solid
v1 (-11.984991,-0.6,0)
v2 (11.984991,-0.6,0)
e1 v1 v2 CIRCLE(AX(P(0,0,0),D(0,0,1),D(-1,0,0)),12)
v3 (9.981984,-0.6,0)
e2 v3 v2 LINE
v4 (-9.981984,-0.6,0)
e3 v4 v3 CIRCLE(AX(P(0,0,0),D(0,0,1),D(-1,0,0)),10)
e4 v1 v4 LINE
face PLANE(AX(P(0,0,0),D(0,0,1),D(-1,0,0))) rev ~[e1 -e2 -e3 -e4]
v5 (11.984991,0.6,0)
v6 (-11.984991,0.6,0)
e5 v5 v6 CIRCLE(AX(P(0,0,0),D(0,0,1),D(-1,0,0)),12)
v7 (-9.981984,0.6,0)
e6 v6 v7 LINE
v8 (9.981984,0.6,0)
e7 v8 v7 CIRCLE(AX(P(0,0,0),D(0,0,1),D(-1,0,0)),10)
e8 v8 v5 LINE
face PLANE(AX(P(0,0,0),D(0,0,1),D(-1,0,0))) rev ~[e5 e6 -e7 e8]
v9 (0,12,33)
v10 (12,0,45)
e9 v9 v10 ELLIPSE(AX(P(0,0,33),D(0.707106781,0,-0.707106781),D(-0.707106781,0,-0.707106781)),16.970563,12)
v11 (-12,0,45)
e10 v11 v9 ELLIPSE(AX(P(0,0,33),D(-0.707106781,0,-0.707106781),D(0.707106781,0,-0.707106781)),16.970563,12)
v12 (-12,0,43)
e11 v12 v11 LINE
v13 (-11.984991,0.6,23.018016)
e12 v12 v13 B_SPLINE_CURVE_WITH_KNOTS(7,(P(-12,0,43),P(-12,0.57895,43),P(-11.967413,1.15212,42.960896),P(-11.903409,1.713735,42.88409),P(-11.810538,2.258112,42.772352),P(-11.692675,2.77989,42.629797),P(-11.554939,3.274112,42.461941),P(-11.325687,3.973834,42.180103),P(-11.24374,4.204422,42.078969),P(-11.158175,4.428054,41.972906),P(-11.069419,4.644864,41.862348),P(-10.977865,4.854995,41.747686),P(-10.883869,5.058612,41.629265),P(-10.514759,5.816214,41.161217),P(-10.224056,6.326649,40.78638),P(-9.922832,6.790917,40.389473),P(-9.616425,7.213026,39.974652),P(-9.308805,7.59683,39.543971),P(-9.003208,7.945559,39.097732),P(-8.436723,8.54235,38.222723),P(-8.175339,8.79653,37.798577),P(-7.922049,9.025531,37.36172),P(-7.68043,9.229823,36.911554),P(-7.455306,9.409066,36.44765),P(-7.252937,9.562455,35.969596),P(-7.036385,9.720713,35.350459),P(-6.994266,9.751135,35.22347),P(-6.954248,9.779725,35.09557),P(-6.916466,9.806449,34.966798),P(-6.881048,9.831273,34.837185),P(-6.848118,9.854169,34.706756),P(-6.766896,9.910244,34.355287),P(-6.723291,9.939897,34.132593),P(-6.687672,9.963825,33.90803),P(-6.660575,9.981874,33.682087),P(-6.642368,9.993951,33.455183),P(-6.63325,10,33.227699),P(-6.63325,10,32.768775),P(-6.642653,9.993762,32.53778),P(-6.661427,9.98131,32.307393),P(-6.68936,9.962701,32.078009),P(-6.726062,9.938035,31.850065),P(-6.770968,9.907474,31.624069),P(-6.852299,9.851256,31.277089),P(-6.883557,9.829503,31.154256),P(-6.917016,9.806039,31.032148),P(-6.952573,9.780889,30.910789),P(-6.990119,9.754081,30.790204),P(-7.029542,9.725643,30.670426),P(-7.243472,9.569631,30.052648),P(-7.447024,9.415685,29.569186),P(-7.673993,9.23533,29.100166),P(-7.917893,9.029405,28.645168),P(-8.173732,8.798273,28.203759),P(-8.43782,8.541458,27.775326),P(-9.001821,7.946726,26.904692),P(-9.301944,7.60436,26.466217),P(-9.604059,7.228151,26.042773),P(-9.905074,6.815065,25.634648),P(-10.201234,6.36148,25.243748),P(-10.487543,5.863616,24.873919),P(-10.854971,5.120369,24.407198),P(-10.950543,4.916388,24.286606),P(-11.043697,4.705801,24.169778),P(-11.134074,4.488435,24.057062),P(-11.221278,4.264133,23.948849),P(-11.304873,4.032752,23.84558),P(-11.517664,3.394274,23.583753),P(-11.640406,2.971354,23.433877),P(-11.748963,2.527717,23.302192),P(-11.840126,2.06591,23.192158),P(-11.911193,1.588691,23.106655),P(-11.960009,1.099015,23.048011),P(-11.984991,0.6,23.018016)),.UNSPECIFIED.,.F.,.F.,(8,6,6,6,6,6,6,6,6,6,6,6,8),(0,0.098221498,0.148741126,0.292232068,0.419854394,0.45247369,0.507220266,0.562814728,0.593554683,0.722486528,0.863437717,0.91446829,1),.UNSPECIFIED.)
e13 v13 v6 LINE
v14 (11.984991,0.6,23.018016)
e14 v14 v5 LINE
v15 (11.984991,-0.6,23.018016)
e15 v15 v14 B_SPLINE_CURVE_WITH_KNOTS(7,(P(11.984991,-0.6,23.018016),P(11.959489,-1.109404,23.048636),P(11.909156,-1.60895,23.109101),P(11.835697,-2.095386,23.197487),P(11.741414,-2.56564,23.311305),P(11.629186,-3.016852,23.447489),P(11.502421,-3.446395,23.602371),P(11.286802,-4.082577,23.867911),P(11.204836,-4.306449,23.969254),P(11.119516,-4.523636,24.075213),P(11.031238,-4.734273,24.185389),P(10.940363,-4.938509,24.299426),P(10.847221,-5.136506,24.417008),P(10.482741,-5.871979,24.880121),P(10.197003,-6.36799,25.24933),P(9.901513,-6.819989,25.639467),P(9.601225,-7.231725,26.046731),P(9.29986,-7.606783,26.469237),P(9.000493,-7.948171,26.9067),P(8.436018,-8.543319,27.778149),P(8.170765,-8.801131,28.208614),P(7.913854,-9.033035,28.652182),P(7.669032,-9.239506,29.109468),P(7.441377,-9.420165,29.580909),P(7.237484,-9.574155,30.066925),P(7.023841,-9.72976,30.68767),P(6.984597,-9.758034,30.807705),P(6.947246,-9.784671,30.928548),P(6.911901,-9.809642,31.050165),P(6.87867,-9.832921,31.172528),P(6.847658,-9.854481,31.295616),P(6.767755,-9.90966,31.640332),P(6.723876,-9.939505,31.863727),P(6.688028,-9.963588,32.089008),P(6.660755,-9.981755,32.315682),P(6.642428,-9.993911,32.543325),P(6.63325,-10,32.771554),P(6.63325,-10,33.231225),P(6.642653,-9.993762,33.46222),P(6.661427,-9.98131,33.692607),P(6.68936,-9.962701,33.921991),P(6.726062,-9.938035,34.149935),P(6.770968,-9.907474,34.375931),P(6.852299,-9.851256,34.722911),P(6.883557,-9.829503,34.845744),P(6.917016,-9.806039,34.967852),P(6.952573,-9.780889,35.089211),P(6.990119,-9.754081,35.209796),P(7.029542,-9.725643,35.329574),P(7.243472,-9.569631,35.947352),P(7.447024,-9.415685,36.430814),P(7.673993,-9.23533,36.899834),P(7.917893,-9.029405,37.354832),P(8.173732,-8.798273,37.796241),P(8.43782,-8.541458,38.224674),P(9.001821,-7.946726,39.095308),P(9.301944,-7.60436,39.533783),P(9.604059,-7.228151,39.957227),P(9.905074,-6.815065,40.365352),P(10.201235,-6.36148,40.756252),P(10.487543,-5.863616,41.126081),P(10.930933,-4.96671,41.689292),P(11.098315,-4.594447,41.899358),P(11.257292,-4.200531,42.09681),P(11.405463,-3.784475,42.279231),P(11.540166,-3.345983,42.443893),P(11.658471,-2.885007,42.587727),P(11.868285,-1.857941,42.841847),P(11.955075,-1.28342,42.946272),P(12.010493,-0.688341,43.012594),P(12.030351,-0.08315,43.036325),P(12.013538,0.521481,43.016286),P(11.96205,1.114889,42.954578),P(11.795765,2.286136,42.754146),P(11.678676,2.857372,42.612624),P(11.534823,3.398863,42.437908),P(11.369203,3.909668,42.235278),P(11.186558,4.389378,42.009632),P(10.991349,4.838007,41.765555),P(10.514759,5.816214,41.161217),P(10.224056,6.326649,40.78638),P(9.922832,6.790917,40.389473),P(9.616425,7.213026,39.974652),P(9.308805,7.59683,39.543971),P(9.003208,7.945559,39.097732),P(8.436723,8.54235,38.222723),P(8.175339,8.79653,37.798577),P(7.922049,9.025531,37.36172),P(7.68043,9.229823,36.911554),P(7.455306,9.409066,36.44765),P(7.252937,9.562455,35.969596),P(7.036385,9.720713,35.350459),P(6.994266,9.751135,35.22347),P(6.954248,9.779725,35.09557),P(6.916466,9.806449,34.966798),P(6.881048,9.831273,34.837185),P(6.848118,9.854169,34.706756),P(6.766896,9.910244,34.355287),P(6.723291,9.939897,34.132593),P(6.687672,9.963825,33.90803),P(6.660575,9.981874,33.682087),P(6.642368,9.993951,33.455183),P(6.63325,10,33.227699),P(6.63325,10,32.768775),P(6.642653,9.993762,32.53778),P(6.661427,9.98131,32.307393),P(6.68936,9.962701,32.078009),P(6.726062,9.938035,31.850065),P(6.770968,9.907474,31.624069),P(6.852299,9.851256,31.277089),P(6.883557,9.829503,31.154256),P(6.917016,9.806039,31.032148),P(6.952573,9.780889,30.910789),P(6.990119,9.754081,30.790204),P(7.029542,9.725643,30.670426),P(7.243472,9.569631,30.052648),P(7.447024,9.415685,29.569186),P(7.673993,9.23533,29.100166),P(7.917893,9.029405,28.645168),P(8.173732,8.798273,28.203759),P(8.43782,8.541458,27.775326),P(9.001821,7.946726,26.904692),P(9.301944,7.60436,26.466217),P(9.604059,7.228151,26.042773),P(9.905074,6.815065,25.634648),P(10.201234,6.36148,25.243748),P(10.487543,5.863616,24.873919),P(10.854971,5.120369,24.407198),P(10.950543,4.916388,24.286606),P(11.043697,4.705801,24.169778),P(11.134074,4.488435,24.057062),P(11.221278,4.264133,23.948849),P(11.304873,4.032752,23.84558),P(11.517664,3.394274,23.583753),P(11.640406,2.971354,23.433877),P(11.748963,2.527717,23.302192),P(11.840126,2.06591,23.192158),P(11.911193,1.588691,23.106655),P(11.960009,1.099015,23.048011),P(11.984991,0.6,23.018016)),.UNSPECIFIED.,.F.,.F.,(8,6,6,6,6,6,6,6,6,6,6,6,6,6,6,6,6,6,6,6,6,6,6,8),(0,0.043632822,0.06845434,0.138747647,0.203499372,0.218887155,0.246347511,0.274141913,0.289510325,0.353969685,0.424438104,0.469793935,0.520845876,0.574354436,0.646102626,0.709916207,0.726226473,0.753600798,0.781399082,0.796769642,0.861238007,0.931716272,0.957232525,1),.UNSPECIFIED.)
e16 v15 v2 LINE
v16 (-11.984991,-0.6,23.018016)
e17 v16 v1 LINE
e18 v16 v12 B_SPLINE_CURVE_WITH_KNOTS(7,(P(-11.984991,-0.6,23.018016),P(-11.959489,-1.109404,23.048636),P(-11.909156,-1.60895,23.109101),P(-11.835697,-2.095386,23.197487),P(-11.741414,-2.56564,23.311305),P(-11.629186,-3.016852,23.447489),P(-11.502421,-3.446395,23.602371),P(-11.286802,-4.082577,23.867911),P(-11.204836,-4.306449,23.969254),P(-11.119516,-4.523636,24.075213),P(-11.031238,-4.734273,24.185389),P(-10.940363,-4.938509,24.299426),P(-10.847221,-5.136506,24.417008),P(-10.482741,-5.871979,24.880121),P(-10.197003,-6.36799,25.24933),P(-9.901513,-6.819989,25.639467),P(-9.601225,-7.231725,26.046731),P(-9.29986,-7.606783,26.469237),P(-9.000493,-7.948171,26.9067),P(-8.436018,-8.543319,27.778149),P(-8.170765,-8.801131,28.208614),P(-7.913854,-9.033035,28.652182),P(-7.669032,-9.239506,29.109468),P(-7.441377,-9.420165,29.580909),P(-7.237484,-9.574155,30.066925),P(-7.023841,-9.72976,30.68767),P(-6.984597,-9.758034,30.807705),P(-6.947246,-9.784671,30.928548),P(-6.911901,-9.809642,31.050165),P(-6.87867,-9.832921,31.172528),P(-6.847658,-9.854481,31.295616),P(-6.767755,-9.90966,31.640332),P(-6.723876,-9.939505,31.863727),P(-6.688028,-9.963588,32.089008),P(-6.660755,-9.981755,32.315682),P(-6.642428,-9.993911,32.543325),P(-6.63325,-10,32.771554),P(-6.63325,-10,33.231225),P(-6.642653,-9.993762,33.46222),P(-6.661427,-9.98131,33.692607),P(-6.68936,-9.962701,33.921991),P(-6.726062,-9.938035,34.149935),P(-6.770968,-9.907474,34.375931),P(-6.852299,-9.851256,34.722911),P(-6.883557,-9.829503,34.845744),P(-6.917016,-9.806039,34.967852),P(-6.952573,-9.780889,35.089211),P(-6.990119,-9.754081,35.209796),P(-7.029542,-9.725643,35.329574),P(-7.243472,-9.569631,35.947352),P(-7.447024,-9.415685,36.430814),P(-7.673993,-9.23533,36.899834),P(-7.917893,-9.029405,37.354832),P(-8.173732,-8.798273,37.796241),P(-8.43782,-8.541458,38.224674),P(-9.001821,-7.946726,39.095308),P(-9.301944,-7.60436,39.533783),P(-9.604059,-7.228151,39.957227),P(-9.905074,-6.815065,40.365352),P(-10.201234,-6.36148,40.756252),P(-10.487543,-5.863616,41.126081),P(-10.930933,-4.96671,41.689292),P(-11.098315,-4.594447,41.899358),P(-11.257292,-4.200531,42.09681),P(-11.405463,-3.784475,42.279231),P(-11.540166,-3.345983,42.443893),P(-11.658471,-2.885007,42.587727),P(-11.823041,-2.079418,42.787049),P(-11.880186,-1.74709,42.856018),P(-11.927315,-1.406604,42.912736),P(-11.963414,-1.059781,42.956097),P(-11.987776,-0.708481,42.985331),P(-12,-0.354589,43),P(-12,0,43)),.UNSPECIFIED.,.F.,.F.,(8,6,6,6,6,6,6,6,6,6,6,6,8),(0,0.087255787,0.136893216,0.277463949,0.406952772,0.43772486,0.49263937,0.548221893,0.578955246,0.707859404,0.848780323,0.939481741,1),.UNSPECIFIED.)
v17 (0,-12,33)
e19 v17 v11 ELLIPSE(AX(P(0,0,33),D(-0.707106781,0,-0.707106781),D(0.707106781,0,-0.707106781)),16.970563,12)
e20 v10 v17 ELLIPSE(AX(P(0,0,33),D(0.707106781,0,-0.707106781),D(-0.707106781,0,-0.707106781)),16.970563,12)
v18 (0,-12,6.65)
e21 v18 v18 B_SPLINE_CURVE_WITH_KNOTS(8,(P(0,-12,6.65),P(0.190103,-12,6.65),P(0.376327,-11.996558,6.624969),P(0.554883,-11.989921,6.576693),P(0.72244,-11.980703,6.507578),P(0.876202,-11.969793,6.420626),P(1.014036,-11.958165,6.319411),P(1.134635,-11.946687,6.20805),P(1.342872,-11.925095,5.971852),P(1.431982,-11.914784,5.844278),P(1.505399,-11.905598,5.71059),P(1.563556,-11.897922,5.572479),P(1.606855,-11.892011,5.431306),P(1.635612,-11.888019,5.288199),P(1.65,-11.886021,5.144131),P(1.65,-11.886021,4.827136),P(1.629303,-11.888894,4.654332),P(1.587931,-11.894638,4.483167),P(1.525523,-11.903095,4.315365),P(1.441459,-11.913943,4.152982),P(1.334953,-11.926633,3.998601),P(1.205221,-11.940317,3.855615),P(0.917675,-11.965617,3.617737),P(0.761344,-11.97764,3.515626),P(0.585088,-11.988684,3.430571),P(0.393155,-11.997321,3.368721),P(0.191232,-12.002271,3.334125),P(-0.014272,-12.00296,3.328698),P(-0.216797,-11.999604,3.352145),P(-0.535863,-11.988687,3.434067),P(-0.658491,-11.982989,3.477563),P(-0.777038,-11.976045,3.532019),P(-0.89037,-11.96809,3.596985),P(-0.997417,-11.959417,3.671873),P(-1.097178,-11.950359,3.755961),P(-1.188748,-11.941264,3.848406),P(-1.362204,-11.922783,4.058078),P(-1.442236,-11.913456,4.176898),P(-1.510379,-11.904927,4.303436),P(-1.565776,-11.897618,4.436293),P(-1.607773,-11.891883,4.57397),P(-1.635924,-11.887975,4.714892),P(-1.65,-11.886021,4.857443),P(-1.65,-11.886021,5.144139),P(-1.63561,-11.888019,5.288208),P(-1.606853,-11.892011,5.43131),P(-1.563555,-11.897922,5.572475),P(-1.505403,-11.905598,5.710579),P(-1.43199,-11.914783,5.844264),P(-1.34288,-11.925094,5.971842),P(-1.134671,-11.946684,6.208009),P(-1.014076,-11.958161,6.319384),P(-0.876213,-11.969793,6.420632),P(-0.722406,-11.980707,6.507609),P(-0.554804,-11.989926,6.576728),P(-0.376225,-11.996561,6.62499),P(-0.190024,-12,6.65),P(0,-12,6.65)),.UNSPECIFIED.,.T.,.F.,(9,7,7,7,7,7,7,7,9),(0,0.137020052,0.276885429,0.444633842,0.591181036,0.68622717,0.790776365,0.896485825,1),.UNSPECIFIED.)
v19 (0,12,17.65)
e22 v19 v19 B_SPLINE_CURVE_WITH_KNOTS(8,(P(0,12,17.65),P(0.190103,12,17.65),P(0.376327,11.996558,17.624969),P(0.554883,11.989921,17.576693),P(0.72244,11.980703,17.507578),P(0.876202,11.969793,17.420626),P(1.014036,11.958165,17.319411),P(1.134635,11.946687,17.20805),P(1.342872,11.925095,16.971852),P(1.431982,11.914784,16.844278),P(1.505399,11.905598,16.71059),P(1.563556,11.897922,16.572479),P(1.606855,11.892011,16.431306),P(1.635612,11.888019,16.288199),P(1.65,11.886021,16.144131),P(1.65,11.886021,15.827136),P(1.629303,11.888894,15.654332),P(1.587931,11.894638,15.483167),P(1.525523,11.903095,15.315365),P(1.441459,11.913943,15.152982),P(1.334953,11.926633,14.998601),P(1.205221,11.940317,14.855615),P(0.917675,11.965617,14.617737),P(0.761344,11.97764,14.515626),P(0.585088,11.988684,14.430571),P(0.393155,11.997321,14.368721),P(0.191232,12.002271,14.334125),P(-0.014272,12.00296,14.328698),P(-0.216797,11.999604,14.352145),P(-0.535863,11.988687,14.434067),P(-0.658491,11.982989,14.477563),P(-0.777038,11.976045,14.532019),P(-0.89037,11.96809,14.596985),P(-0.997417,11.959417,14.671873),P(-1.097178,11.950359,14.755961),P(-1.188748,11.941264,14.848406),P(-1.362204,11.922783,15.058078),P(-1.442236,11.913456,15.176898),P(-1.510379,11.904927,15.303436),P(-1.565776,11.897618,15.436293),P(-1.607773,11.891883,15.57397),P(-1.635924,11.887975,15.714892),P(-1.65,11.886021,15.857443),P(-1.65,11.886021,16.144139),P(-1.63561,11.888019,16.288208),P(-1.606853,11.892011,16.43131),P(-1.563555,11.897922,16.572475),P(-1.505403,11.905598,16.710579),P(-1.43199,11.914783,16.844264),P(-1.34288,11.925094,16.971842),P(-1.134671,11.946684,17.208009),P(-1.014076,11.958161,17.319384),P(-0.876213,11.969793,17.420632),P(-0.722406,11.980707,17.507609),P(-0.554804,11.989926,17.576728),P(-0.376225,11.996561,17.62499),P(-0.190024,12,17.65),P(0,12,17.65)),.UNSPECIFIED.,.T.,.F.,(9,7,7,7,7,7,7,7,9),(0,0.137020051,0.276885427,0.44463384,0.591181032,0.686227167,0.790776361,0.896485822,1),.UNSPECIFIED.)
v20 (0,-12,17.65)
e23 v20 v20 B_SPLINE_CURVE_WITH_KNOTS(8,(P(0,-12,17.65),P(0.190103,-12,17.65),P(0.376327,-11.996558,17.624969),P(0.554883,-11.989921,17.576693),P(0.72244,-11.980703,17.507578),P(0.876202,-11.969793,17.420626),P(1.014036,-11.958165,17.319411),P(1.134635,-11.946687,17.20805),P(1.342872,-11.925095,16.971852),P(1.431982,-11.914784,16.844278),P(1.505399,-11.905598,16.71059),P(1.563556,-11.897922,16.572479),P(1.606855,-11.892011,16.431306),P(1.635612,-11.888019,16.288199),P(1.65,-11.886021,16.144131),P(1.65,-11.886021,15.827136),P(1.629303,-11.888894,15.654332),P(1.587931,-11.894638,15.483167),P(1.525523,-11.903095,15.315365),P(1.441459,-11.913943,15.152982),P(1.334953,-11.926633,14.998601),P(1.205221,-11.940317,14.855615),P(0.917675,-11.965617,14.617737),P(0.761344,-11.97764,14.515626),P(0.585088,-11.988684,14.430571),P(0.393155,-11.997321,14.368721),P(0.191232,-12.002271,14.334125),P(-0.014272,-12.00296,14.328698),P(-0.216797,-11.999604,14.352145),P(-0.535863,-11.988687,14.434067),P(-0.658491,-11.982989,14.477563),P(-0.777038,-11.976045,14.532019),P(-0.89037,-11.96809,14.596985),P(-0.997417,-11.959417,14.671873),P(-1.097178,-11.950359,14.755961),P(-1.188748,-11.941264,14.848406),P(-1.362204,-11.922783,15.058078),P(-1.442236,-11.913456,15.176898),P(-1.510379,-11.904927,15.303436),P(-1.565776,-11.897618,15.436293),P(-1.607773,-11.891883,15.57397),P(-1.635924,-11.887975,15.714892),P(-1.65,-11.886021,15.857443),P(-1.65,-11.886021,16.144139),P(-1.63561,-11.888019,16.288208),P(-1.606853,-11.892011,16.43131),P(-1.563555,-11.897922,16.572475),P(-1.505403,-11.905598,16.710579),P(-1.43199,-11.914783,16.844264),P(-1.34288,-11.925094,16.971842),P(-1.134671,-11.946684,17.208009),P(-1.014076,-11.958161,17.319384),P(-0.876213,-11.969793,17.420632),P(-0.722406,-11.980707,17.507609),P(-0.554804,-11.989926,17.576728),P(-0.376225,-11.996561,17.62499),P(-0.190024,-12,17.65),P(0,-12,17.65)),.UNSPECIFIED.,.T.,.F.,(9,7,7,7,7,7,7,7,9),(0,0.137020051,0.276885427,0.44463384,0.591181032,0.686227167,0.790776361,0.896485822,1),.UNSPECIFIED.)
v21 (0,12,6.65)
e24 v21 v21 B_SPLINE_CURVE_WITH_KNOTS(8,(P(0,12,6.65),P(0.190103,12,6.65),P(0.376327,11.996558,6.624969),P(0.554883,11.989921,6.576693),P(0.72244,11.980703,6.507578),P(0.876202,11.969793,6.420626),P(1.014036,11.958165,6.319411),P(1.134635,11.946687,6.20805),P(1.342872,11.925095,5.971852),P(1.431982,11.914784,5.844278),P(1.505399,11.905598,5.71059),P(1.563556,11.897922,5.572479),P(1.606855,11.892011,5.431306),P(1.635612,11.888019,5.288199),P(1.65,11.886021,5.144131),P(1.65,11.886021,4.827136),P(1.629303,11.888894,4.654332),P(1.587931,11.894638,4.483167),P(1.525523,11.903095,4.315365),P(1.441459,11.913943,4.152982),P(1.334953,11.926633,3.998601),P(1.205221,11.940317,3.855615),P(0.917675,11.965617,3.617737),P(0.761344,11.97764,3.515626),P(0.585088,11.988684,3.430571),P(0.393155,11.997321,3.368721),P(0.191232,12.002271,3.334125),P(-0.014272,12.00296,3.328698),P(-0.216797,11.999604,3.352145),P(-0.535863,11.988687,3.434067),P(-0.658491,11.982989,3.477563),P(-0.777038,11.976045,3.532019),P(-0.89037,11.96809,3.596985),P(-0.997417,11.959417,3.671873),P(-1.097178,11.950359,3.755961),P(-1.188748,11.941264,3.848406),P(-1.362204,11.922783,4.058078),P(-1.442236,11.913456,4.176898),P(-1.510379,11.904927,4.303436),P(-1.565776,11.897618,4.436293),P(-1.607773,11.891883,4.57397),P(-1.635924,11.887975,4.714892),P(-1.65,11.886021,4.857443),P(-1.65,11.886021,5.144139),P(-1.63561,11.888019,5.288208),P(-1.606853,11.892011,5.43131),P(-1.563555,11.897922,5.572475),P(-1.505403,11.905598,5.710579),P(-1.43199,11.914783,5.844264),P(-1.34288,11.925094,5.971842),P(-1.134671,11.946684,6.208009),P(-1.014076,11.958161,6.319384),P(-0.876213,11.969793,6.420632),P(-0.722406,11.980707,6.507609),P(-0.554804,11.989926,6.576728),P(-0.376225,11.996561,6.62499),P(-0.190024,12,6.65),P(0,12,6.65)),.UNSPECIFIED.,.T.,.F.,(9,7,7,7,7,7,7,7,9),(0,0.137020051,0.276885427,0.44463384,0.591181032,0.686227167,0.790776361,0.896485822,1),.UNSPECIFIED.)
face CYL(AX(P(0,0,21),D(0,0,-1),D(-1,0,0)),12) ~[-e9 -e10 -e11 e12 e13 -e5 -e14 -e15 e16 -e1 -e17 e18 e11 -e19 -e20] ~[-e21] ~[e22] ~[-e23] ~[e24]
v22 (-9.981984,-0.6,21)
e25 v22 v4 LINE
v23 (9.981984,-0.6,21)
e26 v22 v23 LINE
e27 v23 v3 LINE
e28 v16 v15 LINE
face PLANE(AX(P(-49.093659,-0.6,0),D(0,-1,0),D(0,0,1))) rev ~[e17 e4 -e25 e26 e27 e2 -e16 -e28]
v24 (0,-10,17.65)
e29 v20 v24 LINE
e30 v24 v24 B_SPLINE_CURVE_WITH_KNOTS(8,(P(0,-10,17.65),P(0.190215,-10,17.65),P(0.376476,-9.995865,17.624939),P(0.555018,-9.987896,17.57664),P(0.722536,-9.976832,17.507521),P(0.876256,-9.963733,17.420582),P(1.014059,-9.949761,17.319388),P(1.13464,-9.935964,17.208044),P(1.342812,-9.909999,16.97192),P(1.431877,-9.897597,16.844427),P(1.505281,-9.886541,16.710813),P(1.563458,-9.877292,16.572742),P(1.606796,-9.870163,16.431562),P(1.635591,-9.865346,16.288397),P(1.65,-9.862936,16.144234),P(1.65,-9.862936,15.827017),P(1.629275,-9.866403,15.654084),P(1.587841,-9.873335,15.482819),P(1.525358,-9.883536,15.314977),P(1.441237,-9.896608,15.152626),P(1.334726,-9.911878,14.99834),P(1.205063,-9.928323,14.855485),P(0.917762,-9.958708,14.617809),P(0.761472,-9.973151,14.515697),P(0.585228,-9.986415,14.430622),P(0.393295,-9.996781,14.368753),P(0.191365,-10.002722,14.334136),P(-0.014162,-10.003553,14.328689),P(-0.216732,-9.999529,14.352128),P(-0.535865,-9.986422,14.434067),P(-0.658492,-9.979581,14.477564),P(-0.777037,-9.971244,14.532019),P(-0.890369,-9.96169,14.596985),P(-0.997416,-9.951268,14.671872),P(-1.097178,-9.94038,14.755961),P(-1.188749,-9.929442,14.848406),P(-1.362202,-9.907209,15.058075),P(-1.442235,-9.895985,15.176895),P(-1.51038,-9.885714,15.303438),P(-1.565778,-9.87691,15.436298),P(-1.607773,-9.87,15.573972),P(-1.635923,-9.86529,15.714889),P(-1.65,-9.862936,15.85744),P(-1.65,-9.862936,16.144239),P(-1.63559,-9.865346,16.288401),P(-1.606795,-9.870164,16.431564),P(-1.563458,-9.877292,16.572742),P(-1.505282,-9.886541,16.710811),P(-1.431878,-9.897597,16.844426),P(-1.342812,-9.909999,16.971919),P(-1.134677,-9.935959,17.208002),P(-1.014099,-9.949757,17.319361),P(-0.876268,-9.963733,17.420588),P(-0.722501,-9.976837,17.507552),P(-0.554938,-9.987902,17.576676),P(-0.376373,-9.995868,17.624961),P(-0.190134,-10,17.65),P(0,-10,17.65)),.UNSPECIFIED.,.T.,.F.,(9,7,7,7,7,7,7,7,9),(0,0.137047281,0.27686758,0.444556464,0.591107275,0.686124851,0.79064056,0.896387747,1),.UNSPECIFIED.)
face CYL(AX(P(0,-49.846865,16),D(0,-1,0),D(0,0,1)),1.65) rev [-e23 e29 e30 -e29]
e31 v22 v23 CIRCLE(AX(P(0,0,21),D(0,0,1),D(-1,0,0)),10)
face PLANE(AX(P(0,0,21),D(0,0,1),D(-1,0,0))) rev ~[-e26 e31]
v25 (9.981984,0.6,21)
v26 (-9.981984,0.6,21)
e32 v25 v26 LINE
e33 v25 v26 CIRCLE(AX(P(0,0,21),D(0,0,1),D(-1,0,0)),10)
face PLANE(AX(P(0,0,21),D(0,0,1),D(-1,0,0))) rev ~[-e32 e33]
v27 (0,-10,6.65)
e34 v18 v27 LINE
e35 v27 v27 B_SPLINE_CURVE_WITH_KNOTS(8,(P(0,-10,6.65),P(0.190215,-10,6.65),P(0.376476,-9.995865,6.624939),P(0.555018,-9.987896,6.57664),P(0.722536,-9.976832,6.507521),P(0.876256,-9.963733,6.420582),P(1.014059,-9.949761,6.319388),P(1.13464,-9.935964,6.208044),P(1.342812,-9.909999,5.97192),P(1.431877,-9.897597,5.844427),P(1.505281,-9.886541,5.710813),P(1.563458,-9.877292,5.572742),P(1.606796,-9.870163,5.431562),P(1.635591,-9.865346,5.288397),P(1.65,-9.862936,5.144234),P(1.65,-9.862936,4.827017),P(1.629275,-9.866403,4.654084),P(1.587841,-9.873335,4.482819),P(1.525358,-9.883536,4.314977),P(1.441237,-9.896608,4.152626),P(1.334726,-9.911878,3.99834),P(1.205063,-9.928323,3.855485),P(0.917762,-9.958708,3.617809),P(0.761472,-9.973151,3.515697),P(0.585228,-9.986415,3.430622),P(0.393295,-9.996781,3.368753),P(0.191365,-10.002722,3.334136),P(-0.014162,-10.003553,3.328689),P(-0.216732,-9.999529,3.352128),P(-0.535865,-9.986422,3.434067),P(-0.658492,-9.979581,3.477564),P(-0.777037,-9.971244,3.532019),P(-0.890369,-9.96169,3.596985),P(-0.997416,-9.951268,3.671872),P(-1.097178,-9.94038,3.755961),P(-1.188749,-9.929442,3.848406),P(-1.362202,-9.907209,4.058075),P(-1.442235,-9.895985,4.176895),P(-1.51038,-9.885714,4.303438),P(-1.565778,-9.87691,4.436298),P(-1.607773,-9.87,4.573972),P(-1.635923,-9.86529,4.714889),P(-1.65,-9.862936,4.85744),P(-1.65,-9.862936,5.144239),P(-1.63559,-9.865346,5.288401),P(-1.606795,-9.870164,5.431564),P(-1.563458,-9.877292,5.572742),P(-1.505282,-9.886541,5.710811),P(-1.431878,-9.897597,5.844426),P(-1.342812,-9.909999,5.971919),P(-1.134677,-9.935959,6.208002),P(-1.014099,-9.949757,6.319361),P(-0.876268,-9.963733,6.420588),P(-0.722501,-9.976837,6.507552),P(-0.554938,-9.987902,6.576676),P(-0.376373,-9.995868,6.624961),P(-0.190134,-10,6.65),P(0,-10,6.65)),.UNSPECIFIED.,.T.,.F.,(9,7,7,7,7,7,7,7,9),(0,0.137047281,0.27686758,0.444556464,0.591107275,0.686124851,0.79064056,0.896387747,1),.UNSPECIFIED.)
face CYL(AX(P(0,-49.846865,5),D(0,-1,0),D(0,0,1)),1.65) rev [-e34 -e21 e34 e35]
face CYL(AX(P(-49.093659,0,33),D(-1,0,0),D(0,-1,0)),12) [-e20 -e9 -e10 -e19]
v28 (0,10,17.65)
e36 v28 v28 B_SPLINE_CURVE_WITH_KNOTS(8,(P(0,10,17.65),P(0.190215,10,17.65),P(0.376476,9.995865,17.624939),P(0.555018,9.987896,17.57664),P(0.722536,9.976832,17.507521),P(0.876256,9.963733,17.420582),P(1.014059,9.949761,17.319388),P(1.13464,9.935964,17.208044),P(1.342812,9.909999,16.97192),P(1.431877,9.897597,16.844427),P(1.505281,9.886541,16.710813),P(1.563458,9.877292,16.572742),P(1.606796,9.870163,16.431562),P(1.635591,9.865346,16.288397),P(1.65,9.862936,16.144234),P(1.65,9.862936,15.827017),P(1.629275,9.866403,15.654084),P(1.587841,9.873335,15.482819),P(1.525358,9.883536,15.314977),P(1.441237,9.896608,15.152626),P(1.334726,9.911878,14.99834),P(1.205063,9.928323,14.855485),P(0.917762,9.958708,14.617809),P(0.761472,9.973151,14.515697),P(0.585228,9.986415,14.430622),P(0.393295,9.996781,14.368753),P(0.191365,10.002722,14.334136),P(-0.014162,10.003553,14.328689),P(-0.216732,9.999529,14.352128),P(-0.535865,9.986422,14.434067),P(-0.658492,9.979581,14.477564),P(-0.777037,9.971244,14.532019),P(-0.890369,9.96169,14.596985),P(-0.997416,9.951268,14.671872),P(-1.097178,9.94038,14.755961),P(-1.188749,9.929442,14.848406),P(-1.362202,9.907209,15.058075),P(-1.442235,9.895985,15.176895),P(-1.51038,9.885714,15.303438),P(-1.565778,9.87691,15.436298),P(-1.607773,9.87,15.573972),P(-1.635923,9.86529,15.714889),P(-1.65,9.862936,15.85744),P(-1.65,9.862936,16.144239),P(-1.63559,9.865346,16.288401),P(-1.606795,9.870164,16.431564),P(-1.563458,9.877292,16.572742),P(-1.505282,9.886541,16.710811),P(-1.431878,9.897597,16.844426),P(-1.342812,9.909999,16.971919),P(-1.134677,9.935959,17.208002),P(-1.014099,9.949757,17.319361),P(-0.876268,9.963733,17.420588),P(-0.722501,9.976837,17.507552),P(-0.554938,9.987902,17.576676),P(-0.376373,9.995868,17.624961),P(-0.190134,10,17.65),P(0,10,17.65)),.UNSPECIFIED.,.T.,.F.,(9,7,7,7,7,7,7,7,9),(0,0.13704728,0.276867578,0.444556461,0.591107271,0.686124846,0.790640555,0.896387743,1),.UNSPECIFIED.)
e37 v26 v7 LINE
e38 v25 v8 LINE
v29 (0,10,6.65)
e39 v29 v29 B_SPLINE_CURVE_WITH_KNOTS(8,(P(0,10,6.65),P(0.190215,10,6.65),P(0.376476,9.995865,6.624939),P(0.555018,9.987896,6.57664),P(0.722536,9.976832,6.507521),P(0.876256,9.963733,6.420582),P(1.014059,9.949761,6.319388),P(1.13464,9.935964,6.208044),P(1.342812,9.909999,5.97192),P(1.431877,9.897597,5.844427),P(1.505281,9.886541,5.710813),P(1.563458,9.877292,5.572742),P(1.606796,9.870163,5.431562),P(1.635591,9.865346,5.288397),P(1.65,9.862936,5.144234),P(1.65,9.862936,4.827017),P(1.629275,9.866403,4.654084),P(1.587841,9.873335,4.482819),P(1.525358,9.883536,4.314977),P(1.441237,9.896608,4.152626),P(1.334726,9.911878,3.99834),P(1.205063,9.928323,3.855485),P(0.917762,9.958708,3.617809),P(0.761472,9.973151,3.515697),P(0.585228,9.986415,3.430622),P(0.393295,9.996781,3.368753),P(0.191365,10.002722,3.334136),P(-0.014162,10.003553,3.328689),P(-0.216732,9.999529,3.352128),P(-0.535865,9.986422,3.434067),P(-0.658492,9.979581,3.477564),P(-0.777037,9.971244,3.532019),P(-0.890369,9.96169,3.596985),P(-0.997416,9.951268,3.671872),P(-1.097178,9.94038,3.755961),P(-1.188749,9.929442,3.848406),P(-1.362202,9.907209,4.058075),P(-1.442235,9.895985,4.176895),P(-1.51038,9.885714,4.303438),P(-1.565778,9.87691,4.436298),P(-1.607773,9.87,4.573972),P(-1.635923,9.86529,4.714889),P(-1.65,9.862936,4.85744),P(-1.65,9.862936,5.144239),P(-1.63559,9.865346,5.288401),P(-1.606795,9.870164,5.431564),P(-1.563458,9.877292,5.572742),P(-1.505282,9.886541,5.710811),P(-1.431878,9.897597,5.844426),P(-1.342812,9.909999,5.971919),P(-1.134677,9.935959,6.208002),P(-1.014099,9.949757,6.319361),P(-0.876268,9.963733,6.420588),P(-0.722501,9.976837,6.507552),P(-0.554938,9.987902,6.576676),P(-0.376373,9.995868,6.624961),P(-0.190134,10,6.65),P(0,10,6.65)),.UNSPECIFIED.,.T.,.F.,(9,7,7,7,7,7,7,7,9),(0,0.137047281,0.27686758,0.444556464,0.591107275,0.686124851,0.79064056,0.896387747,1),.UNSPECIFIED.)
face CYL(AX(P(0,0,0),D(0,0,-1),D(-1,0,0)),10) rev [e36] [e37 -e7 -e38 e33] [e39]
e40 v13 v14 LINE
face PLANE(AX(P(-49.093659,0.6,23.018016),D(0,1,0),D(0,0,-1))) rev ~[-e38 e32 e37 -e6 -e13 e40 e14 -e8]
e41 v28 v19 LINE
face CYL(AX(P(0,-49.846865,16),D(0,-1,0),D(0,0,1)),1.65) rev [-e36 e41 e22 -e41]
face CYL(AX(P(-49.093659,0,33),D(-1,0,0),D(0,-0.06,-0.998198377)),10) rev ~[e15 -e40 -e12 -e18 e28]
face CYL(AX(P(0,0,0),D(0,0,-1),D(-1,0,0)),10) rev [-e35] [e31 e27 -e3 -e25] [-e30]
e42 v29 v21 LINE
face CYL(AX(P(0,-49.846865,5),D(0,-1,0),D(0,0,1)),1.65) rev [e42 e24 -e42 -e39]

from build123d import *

# Parameters (mm, degrees)
ESQUISSE1_R                  = 12
ESQUISSE1_R_2                = 10
BOSS_EXTRU_1_DEPTH           = 21
ESQUISSE2_R                  = 12
BOSS_EXTRU_2_DEPTH           = 24
ENL_V_MAT_EXTRU_1_DEPTH      = 49.093658626
ENL_V_MAT_EXTRU_1_DEPTH_BACK = 49.093658626
ENL_V_MAT_EXTRU_2_DEPTH      = 49.246865329
ENL_V_MAT_EXTRU_2_DEPTH_BACK = 49.246865329
ESQUISSE4_R                  = 1.65


with BuildPart() as part:
    # Esquisse1 → Boss.-Extru.1 (new body)
    with BuildSketch(Plane.XY):
        with Locations(Location((0, 0, 0), (0, 0, 180))):
            Circle(ESQUISSE1_R)
        with Locations(Location((0, 0, 0), (0, 0, 180))):
            Circle(ESQUISSE1_R_2, mode=Mode.SUBTRACT)
    extrude(amount=BOSS_EXTRU_1_DEPTH)

    # Esquisse2 → Boss.-Extru.2 (add)
    with BuildSketch(Plane.XY.offset(21)):
        with Locations(Location((0, 0, 0), (0, 0, 180))):
            Circle(ESQUISSE2_R)
    extrude(amount=BOSS_EXTRU_2_DEPTH)

    # Esquisse3 → Enlèv. mat.-Extru.1 (cut, two sides: drawn at the far end of the back side and taken through both)
    with BuildSketch(Plane(origin=(0, 0, 0), x_dir=(0, 0, -1), z_dir=(1, 0, 0)).offset(-ENL_V_MAT_EXTRU_1_DEPTH_BACK)):
        with BuildLine():
            Line((-33, 12), (-45, 12))
            Line((-45, 12), (-50, 0))
            Line((-50, 0), (-45, -12))
            Line((-45, -12), (-33, -12))
            ThreePointArc((-33, -12), (-45, 0), (-33, 12))
        make_face()
        with BuildLine():
            Line((-23.018016229, 0.6), (0, 0.6))
            Line((0, 0.6), (0, -0.6))
            Line((0, -0.6), (-23.018016229, -0.6))
            ThreePointArc((-23.018016229, -0.6), (-43, 0), (-23.018016229, 0.6))
        make_face()
    extrude(amount=ENL_V_MAT_EXTRU_1_DEPTH + ENL_V_MAT_EXTRU_1_DEPTH_BACK, mode=Mode.SUBTRACT)

    # Esquisse4 → Enlèv. mat.-Extru.2 (cut, two sides: drawn at the far end of the back side and taken through both)
    with BuildSketch(Plane(origin=(0, -0.6, 0), x_dir=(1, 0, 0), z_dir=(0, 1, 0)).offset(-ENL_V_MAT_EXTRU_2_DEPTH_BACK)):
        with Locations(Location((0, -16, 0), (0, 0, 270))):
            Circle(ESQUISSE4_R)
        with Locations(Location((0, -5, 0), (0, 0, 270))):
            Circle(ESQUISSE4_R)
    extrude(amount=ENL_V_MAT_EXTRU_2_DEPTH + ENL_V_MAT_EXTRU_2_DEPTH_BACK, mode=Mode.SUBTRACT)


solid = part.part
